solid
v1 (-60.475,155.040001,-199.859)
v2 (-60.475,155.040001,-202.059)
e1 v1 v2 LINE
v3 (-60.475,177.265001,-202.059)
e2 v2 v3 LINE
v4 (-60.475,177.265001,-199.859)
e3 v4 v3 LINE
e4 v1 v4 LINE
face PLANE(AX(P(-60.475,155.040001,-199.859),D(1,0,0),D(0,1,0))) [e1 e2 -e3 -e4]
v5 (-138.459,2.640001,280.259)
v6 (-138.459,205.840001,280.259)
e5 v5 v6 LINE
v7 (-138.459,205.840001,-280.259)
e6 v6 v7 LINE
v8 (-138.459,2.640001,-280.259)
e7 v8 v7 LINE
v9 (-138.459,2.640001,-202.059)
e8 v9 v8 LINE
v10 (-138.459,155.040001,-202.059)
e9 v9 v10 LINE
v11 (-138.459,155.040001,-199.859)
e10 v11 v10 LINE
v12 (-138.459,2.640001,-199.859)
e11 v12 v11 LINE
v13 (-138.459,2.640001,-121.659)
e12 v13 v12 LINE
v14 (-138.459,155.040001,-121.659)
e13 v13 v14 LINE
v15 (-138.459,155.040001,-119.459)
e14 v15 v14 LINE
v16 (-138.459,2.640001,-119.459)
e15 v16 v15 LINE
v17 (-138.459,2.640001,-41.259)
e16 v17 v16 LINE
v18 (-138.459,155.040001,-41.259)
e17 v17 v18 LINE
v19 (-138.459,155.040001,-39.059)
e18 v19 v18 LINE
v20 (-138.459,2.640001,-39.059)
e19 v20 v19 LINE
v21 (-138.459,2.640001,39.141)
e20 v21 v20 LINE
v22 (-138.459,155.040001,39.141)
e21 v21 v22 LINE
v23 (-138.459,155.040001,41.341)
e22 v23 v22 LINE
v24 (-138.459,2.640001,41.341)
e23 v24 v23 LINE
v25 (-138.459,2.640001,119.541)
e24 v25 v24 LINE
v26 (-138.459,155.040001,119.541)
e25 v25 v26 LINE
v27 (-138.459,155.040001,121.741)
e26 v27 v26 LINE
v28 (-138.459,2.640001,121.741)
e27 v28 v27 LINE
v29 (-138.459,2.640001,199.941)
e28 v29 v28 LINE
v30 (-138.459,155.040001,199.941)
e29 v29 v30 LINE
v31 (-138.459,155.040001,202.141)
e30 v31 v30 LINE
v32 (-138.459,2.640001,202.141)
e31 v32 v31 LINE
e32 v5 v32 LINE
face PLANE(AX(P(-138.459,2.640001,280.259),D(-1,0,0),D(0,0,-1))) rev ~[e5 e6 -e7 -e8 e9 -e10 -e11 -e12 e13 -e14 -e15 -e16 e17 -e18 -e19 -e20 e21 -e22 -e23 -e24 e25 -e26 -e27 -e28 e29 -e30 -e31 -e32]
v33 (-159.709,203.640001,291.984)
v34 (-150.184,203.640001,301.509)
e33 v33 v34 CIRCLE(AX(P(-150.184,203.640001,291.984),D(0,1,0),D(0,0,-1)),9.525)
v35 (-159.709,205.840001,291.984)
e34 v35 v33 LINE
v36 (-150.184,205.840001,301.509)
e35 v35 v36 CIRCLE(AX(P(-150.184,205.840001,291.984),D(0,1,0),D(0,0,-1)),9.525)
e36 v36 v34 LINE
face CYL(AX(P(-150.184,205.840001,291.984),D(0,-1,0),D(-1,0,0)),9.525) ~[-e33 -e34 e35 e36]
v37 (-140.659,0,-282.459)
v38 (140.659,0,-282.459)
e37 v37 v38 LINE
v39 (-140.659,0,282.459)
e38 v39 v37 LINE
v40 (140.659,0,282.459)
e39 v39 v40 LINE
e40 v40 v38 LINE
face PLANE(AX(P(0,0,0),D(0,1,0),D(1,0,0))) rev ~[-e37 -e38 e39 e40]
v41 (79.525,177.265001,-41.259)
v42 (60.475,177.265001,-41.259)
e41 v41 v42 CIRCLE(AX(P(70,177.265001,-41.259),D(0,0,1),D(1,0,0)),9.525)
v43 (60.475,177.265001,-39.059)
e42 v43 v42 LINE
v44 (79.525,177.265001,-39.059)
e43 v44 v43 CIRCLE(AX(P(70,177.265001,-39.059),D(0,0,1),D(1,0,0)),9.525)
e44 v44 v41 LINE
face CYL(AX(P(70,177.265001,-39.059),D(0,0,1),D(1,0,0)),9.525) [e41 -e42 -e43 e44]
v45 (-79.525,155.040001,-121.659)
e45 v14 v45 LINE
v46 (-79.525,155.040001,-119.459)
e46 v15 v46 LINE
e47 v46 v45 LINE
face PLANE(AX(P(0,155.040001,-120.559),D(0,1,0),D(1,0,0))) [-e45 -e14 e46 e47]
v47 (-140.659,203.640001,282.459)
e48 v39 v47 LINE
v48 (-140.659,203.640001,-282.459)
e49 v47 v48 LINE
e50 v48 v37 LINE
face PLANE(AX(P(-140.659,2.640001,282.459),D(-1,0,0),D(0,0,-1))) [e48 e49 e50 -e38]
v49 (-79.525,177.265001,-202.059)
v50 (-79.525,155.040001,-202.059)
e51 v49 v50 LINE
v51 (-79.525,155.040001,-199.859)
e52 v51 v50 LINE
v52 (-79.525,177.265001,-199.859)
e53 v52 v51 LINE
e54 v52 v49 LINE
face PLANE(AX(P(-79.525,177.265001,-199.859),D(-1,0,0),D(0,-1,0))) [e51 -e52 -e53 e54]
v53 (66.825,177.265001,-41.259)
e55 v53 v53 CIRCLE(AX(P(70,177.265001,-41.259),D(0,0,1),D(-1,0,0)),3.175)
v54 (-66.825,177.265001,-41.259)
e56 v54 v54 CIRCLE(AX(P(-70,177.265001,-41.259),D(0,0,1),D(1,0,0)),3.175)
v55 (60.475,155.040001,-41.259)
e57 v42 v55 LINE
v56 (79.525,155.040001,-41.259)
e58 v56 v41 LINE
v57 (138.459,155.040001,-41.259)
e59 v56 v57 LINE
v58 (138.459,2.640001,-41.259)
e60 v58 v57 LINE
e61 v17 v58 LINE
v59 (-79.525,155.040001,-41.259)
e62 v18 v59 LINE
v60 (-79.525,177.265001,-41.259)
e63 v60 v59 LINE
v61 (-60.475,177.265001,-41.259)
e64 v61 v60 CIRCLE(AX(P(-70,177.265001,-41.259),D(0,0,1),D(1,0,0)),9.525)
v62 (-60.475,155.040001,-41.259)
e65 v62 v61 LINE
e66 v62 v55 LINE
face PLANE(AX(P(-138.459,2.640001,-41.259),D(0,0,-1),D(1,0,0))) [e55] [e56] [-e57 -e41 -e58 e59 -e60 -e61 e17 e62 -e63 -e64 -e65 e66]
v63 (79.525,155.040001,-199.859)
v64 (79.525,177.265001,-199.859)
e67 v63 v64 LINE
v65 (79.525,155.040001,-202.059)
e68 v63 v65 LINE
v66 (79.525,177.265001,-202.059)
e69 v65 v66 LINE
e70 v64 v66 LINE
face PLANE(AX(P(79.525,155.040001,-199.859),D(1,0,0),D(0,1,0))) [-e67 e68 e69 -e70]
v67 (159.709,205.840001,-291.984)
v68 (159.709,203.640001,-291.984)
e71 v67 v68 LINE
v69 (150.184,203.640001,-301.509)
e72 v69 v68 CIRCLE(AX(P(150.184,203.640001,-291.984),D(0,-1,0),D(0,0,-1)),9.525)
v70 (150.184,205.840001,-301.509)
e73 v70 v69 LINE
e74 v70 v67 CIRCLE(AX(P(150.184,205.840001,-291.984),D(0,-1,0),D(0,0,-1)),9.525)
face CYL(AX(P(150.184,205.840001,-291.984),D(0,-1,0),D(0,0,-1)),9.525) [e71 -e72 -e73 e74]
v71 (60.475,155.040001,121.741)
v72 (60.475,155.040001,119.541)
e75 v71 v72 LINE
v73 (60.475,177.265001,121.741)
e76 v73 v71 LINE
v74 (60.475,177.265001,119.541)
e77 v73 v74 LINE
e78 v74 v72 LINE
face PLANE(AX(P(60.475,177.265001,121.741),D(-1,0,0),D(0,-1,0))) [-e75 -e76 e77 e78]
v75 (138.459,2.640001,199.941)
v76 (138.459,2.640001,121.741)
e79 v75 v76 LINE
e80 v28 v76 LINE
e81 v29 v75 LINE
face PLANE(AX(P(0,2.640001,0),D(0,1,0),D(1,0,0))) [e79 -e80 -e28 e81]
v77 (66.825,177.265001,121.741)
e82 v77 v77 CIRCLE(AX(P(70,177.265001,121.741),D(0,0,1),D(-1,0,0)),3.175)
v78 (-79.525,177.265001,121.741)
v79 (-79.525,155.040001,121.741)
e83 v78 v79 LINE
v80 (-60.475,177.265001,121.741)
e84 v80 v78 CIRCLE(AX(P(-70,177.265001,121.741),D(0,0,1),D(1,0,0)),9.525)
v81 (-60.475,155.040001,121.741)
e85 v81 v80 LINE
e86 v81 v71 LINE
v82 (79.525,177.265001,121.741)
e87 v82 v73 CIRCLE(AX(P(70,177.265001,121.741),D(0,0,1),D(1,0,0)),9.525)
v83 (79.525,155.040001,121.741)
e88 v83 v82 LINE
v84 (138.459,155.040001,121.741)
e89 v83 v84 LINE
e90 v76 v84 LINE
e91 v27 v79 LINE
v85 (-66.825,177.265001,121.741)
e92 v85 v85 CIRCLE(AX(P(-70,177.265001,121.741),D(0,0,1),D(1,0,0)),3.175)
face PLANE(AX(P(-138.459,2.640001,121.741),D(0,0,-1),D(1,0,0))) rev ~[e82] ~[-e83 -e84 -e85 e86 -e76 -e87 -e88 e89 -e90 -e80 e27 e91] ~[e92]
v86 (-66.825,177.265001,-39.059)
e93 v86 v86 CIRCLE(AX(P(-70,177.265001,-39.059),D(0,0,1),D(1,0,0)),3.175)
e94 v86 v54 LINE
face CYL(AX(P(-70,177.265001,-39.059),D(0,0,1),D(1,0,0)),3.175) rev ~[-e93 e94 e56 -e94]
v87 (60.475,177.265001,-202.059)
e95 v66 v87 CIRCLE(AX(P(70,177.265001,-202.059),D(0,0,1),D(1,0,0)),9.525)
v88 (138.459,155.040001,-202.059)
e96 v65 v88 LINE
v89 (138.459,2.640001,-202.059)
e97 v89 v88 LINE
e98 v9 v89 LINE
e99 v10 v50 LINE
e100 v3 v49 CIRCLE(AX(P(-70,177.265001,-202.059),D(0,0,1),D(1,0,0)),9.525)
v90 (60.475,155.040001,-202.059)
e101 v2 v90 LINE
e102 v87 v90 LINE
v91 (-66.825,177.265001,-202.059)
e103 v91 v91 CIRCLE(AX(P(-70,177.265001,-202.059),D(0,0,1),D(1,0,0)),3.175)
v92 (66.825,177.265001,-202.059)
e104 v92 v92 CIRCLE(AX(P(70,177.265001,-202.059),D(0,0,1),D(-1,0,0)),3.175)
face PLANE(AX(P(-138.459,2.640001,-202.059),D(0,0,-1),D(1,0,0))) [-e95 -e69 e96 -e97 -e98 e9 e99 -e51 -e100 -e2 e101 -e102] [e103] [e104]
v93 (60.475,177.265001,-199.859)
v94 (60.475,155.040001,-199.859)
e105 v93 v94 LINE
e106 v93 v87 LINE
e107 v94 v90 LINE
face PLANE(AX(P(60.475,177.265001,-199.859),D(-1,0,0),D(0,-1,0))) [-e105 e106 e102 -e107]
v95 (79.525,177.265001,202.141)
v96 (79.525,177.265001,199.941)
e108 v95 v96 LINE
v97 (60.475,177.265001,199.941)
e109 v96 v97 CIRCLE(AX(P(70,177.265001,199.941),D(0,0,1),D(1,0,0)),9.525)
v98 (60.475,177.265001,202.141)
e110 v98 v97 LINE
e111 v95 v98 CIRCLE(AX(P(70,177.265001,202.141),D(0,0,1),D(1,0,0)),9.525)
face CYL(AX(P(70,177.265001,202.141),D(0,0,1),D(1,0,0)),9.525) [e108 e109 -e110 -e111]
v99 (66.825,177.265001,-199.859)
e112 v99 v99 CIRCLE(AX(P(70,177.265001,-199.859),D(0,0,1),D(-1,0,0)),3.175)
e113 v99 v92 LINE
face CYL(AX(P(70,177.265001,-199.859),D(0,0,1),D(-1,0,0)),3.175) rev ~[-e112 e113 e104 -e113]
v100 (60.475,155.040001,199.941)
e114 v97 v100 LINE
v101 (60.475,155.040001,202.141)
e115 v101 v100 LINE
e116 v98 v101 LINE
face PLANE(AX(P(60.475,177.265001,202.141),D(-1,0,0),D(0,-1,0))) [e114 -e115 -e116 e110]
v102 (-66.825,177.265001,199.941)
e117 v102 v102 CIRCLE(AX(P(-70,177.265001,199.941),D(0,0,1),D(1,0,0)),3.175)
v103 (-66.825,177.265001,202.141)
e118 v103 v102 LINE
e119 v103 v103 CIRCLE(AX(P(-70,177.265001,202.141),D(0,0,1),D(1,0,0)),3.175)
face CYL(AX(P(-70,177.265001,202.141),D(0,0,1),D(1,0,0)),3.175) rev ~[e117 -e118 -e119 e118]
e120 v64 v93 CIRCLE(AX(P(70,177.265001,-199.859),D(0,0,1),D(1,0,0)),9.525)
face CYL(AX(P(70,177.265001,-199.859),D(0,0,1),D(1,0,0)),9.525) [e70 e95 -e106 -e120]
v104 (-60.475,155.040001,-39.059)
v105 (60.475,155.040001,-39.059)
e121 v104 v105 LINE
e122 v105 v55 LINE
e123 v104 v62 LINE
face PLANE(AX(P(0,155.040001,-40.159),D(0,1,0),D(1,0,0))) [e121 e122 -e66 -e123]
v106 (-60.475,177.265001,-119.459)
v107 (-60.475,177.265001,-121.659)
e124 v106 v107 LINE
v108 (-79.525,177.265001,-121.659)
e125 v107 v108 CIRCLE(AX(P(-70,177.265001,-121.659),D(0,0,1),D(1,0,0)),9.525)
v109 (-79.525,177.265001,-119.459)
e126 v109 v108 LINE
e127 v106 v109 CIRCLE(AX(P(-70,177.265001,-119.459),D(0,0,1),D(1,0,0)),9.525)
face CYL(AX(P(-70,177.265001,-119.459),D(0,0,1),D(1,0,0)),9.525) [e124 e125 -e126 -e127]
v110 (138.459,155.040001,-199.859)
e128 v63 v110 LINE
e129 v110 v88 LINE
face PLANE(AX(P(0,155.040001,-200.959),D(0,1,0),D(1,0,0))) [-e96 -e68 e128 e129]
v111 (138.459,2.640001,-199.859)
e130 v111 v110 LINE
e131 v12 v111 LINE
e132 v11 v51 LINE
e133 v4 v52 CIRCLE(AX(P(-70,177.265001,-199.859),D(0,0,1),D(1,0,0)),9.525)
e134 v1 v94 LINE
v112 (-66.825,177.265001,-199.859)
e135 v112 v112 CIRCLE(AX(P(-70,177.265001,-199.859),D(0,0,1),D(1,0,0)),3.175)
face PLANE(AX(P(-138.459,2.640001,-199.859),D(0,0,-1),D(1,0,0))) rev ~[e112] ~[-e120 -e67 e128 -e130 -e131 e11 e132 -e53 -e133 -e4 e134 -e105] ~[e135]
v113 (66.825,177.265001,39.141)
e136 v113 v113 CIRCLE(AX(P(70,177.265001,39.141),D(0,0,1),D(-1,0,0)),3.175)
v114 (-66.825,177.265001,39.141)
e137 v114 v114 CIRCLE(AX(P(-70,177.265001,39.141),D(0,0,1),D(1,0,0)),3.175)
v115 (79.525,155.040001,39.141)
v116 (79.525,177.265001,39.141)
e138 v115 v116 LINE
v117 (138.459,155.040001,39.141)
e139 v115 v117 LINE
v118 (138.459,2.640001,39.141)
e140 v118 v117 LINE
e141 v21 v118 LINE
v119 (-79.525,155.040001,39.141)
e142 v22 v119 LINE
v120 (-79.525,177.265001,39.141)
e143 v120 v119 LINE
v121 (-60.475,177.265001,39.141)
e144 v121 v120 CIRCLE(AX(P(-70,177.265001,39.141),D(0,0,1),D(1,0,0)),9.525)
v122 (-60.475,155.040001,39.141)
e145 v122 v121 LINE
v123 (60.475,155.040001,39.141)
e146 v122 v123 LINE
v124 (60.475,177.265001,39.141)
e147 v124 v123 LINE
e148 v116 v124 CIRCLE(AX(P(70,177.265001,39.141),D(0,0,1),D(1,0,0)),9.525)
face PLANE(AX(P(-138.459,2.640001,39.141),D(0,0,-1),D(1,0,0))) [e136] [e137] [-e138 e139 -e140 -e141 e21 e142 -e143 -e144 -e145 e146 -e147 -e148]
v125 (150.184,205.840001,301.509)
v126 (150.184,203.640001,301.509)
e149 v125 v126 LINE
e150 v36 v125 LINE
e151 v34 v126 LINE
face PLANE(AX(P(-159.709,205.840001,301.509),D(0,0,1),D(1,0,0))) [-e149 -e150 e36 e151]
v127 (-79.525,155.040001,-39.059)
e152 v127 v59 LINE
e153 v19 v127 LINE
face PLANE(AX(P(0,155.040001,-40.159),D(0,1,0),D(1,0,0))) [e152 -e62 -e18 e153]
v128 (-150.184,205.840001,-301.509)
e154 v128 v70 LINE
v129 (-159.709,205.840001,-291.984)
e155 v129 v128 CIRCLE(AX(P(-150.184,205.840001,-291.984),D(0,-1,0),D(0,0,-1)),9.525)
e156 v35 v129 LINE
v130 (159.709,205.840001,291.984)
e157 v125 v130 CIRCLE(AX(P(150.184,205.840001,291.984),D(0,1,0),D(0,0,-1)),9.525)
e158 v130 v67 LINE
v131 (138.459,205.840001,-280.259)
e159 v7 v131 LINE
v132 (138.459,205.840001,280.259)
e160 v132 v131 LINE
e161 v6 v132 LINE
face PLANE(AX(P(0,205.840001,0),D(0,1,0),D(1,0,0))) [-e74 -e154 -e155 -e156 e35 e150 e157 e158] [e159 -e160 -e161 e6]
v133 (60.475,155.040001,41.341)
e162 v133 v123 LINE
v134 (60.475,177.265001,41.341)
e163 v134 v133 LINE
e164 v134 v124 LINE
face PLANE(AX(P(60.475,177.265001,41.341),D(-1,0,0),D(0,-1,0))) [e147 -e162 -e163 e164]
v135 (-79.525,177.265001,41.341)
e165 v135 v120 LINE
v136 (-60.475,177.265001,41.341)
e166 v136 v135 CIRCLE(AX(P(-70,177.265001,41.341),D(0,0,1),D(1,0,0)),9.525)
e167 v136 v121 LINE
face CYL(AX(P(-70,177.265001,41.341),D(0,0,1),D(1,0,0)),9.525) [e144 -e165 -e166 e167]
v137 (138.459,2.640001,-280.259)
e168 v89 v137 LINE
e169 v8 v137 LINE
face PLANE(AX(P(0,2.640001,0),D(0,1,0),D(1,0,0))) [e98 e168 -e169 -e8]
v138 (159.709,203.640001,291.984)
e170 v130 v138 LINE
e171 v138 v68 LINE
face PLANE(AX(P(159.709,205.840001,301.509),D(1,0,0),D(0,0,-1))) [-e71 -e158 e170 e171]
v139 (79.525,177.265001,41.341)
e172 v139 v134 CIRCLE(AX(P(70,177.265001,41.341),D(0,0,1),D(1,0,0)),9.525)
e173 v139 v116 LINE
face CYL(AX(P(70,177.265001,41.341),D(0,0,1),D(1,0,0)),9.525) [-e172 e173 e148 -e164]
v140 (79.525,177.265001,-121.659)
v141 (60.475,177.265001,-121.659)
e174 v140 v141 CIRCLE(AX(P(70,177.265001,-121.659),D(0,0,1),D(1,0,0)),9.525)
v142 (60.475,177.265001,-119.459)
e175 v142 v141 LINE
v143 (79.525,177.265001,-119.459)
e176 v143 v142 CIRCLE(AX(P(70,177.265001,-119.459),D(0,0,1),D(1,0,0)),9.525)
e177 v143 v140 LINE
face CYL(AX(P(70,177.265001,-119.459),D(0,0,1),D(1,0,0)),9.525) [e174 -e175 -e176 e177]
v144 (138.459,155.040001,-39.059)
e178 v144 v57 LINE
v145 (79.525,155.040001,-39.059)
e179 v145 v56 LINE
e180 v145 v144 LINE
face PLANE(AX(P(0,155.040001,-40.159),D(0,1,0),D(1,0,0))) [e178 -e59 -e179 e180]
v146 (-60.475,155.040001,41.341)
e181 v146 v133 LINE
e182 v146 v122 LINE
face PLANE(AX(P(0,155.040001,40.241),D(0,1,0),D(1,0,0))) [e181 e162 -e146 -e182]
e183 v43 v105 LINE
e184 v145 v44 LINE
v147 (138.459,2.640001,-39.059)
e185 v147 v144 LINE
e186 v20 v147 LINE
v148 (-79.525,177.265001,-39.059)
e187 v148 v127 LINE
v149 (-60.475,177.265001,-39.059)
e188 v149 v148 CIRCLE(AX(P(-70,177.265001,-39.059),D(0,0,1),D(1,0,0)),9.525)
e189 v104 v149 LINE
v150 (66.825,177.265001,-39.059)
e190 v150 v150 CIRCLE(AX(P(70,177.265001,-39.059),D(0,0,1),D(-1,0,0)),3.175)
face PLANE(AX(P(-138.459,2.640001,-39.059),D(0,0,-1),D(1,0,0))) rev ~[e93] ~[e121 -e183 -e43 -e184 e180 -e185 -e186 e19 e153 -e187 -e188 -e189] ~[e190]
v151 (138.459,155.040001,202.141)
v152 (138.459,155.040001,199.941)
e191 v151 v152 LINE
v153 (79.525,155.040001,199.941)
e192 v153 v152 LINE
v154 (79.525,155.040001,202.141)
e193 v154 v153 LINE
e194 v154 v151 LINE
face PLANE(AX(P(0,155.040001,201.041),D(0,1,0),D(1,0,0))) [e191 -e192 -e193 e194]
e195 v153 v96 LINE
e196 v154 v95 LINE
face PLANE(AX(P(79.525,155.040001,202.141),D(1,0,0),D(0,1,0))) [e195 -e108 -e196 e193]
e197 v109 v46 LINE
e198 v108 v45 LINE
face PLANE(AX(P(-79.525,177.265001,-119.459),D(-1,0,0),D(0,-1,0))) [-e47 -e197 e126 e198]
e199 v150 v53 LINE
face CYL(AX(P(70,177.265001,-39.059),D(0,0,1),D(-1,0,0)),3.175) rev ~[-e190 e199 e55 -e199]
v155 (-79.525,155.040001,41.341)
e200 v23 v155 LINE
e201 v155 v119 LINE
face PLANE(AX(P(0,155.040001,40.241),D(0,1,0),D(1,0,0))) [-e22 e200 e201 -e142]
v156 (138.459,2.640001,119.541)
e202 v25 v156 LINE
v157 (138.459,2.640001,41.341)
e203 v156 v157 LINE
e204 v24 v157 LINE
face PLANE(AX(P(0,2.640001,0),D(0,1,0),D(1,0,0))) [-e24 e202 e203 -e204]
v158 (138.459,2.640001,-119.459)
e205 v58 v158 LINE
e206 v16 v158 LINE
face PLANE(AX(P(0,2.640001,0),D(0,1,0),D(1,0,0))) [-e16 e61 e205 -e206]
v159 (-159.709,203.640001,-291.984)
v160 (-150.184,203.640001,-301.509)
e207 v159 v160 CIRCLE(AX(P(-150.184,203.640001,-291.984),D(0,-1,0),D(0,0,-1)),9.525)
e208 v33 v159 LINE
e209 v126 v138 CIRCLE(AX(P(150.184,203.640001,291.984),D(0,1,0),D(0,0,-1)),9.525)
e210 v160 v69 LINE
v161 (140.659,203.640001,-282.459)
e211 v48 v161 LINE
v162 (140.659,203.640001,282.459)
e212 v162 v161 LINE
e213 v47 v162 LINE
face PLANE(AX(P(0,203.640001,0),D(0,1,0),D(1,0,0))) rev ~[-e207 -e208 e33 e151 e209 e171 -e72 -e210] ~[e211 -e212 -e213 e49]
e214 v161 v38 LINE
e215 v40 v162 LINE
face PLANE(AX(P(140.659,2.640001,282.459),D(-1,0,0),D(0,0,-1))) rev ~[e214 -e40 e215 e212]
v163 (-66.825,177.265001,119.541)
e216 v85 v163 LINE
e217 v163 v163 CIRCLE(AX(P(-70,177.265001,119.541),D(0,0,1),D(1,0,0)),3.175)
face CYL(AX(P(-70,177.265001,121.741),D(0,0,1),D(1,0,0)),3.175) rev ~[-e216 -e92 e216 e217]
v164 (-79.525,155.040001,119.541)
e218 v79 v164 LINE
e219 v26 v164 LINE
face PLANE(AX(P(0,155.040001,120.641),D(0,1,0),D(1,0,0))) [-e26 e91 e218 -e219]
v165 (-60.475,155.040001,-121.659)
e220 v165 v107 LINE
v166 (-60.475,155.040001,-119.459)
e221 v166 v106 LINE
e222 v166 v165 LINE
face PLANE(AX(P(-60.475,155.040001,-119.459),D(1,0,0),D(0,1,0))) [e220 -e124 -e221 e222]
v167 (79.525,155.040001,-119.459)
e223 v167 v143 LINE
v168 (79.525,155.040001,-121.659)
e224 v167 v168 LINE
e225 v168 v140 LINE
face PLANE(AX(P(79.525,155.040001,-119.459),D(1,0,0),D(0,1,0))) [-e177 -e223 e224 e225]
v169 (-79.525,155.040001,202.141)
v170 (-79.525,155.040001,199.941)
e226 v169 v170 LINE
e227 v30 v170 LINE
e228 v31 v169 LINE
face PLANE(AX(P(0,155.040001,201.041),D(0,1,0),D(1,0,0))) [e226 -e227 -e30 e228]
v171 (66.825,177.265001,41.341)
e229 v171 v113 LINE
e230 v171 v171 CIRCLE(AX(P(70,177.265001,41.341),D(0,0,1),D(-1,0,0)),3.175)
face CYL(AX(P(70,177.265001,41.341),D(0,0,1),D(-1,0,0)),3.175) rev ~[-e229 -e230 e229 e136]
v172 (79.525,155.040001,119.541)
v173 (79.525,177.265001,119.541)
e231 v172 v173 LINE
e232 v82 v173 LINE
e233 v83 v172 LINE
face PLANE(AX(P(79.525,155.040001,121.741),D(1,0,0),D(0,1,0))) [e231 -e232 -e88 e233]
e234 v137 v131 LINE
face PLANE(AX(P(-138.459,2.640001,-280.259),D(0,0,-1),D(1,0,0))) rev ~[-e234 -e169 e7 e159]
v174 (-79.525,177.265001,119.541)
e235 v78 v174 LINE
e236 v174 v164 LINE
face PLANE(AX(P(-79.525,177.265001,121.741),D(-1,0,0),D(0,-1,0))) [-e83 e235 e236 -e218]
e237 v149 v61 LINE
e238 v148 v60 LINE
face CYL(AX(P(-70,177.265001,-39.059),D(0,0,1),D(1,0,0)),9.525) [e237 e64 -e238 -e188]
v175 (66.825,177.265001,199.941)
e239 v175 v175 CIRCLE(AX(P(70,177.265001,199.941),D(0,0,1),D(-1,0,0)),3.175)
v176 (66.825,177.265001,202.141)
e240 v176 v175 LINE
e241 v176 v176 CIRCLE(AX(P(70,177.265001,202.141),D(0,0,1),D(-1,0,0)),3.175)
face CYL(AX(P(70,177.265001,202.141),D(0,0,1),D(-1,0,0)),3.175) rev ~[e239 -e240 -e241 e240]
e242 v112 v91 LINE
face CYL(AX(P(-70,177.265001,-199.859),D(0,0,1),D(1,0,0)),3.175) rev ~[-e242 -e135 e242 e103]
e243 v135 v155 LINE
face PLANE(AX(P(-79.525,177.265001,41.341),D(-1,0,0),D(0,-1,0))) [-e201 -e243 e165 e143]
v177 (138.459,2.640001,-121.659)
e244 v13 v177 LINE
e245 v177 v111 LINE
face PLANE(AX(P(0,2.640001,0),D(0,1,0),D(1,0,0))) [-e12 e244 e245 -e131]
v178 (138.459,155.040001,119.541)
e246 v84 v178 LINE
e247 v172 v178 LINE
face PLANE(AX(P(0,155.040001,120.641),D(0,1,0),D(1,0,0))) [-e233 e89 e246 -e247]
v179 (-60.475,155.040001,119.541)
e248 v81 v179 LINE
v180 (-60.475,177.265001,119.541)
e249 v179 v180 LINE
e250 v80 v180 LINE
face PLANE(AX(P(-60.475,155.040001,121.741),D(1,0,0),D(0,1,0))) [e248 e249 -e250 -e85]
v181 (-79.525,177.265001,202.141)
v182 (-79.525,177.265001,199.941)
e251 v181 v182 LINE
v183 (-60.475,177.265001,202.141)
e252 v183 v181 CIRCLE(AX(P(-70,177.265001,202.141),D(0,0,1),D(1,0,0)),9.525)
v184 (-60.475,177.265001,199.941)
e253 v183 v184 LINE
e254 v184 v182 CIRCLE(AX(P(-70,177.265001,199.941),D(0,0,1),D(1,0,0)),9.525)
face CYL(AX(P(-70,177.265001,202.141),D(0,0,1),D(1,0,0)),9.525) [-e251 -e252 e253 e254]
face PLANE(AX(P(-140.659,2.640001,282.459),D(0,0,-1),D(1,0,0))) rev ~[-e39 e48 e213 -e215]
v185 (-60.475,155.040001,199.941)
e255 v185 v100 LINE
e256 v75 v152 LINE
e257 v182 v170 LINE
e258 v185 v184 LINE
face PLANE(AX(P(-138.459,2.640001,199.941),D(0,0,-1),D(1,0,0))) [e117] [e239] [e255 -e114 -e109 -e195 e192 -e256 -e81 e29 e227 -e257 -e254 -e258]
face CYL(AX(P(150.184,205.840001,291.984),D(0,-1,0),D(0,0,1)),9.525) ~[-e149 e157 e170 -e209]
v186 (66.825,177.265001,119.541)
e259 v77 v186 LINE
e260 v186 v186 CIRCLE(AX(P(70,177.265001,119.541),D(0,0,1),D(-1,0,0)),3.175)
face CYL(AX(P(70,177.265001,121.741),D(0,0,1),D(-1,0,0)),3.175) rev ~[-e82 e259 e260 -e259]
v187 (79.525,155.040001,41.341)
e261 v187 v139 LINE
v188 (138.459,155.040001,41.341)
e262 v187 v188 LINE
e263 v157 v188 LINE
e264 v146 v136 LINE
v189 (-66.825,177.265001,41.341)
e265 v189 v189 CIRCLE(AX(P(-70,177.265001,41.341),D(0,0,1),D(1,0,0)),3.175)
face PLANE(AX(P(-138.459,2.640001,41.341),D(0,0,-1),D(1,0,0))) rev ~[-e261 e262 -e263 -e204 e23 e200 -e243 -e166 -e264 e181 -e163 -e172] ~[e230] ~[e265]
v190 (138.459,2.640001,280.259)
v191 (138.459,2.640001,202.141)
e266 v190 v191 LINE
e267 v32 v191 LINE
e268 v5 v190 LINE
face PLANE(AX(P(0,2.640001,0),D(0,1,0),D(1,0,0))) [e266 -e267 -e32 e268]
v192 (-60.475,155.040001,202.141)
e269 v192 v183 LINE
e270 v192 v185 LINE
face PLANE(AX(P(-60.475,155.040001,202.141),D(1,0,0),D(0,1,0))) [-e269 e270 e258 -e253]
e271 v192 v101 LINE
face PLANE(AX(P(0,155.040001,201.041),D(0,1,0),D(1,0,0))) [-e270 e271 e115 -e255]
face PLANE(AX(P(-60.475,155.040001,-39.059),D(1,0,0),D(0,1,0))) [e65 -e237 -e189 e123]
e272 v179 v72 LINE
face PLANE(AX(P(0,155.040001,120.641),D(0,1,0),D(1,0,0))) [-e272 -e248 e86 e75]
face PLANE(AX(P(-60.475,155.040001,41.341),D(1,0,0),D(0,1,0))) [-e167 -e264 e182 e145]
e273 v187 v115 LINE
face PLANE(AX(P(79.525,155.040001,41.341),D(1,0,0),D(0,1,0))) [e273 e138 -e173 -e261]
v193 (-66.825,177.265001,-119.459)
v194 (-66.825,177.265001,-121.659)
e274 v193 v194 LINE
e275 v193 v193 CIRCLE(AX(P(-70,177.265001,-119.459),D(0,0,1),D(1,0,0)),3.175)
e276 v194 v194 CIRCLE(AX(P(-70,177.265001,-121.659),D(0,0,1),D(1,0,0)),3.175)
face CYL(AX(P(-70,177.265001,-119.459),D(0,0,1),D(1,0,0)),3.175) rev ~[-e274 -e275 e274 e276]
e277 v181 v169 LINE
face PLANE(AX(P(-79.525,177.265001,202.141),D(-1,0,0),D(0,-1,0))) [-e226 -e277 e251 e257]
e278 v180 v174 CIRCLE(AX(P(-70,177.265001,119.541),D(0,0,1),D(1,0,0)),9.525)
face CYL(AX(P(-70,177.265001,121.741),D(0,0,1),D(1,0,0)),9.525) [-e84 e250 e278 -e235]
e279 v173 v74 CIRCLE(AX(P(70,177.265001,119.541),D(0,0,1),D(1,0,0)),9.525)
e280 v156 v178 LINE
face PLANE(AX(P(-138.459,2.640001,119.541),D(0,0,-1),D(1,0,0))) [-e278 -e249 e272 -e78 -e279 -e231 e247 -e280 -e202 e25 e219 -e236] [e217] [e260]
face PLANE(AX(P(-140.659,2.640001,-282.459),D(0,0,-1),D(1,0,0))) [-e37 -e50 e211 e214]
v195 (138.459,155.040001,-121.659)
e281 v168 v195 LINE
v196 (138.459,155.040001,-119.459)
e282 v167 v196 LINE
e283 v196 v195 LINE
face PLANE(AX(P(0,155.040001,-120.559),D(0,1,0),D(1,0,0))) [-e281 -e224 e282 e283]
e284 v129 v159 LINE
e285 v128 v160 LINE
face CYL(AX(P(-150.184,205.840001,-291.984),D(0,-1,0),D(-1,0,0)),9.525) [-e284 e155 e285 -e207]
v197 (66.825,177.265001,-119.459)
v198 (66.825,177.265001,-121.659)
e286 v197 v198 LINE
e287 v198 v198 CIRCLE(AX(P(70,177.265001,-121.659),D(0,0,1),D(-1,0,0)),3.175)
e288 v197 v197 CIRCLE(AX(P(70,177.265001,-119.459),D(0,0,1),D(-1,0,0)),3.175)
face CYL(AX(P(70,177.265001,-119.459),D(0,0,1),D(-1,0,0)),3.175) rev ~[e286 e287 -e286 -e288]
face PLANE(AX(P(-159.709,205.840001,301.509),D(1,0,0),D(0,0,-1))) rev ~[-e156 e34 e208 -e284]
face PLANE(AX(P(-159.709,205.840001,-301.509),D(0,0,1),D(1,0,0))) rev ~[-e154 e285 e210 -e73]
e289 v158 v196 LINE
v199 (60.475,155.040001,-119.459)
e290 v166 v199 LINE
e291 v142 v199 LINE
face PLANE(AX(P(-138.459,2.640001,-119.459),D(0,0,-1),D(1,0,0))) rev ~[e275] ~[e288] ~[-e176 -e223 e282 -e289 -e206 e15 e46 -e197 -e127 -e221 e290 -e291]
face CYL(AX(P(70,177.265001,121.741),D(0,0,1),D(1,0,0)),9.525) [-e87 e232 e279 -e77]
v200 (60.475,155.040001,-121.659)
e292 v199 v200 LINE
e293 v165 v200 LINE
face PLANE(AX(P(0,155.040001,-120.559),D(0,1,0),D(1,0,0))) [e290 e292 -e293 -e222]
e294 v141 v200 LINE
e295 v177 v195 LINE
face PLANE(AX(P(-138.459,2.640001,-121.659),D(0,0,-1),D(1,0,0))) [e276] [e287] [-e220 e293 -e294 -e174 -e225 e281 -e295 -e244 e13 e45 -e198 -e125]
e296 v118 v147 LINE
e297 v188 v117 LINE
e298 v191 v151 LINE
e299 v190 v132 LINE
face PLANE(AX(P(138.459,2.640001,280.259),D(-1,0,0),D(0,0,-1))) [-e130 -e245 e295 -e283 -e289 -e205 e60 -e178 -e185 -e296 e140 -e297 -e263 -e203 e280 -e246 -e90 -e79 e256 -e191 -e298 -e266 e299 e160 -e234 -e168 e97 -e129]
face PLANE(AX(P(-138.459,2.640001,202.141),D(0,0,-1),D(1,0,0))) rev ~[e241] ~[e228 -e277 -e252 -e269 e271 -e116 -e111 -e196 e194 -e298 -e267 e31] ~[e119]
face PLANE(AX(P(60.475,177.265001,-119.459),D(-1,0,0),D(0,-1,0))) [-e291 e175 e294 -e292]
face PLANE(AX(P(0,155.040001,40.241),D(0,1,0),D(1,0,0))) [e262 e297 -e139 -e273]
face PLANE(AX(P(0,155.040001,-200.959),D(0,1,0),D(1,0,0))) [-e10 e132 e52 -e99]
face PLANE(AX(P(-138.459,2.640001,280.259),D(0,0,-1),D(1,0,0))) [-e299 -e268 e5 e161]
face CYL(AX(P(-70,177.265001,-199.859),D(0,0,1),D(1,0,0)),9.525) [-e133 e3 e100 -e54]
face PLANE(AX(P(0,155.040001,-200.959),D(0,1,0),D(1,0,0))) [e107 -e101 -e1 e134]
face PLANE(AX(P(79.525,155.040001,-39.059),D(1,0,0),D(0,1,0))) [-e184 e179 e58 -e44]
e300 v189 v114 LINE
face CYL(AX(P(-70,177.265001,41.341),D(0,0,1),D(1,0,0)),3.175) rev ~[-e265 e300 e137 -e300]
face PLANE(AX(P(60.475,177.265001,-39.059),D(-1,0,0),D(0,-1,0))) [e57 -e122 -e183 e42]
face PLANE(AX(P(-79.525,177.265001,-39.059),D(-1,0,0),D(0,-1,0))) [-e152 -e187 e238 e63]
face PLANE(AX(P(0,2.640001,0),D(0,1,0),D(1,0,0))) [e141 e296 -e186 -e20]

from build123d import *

# Parameters (mm, degrees)
SKETCH1_W           = 281.317999974
SKETCH1_H           = 564.917999956
BOSS_EXTRUDE1_DEPTH = 2.640000816
SKETCH2_W           = 281.317999974
SKETCH2_H           = 564.917999956
SKETCH2_W_2         = 276.918000138
SKETCH2_H_2         = 560.51800012
BOSS_EXTRUDE2_DEPTH = 203.2
SKETCH3_W           = 319.417999974
SKETCH3_H           = 603.017999956
SKETCH3_W_2         = 281.317999974
SKETCH3_H_2         = 564.917999956
BOSS_EXTRUDE3_DEPTH = 2.2
SKETCH5_W           = 276.918000138
SKETCH5_H           = 2.199999918
BOSS_EXTRUDE5_DEPTH = 152.4
SKETCH7_R           = 3.175
BOSS_EXTRUDE6_DEPTH = 2.2
LPATTERN1_COUNT     = 6
LPATTERN1_PITCH     = 80.399999982
FILLET4_R           = 9.525


with BuildPart() as part:
    # Sketch1 → Boss-Extrude1 (new body)
    with BuildSketch(Plane(origin=(0, 0, 0), x_dir=(1, 0, 0), z_dir=(0, 1, 0))):
        Rectangle(SKETCH1_W, SKETCH1_H)
    extrude(amount=BOSS_EXTRUDE1_DEPTH)

    # Sketch2 → Boss-Extrude2 (add)
    with BuildSketch(Plane(origin=(0, 2.640000816, 0), x_dir=(1, 0, 0), z_dir=(0, 1, 0))):
        Rectangle(SKETCH2_W, SKETCH2_H)
        Rectangle(SKETCH2_W_2, SKETCH2_H_2, mode=Mode.SUBTRACT)
    extrude(amount=BOSS_EXTRUDE2_DEPTH)

    # Sketch3 → Boss-Extrude3 (add)
    with BuildSketch(Plane(origin=(0, 205.840000816, 0), x_dir=(1, 0, 0), z_dir=(0, 1, 0))):
        Rectangle(SKETCH3_W, SKETCH3_H)
        Rectangle(SKETCH3_W_2, SKETCH3_H_2, mode=Mode.SUBTRACT)
    extrude(amount=-BOSS_EXTRUDE3_DEPTH)

    # Sketch5 → Boss-Extrude5 (add)
    with BuildSketch(Plane(origin=(0, 2.640000816, 0), x_dir=(1, 0, 0), z_dir=(0, 1, 0))):
        with Locations((0, 200.959000037)):
            Rectangle(SKETCH5_W, SKETCH5_H)
    boss_extrude5 = extrude(amount=BOSS_EXTRUDE5_DEPTH)

    # Sketch7 → Boss-Extrude6 (add)
    # profile 1 of 2: a face of its own
    with BuildSketch(Plane.XY.offset(-199.859000078)):
        with BuildLine():
            Line((-79.525, 155.040000816), (-60.475, 155.040000816))
            Line((-60.475, 155.040000816), (-60.475, 177.265000816))
            ThreePointArc((-60.475, 177.265000816), (-70, 186.790000816), (-79.525, 177.265000816))
            Line((-79.525, 177.265000816), (-79.525, 155.040000816))
        make_face()
        with Locations((-70, 177.265000816)):
            Circle(SKETCH7_R, mode=Mode.SUBTRACT)
    # profile 2 of 2: a face of its own
    with BuildSketch(Plane.XY.offset(-199.859000078)):
        with BuildLine():
            Line((79.525, 155.040000816), (79.525, 177.265000816))
            ThreePointArc((79.525, 177.265000816), (70, 186.790000816), (60.475, 177.265000816))
            Line((60.475, 177.265000816), (60.475, 155.040000816))
            Line((60.475, 155.040000816), (79.525, 155.040000816))
        make_face()
        with Locations((70, 177.265000816)):
            Circle(SKETCH7_R, mode=Mode.SUBTRACT)
    boss_extrude6 = extrude(amount=-BOSS_EXTRUDE6_DEPTH)

    # LPattern1: Boss-Extrude5, Boss-Extrude6 ×6
    with Locations(*[(0, 0, i * LPATTERN1_PITCH) for i in range(1, LPATTERN1_COUNT)]):
        add(boss_extrude5)
        add(boss_extrude6)

    # Fillet4
    fillet4_edges = [part.edges().sort_by_distance(p)[0] for p in [
        (-159.708999987, 204.740000816, 301.508999978),
        (-159.708999987, 204.740000816, -301.508999978),
        (159.708999987, 204.740000816, -301.508999978),
        (159.708999987, 204.740000816, 301.508999978),
    ]]
    fillet(fillet4_edges, radius=FILLET4_R)


solid = part.part
